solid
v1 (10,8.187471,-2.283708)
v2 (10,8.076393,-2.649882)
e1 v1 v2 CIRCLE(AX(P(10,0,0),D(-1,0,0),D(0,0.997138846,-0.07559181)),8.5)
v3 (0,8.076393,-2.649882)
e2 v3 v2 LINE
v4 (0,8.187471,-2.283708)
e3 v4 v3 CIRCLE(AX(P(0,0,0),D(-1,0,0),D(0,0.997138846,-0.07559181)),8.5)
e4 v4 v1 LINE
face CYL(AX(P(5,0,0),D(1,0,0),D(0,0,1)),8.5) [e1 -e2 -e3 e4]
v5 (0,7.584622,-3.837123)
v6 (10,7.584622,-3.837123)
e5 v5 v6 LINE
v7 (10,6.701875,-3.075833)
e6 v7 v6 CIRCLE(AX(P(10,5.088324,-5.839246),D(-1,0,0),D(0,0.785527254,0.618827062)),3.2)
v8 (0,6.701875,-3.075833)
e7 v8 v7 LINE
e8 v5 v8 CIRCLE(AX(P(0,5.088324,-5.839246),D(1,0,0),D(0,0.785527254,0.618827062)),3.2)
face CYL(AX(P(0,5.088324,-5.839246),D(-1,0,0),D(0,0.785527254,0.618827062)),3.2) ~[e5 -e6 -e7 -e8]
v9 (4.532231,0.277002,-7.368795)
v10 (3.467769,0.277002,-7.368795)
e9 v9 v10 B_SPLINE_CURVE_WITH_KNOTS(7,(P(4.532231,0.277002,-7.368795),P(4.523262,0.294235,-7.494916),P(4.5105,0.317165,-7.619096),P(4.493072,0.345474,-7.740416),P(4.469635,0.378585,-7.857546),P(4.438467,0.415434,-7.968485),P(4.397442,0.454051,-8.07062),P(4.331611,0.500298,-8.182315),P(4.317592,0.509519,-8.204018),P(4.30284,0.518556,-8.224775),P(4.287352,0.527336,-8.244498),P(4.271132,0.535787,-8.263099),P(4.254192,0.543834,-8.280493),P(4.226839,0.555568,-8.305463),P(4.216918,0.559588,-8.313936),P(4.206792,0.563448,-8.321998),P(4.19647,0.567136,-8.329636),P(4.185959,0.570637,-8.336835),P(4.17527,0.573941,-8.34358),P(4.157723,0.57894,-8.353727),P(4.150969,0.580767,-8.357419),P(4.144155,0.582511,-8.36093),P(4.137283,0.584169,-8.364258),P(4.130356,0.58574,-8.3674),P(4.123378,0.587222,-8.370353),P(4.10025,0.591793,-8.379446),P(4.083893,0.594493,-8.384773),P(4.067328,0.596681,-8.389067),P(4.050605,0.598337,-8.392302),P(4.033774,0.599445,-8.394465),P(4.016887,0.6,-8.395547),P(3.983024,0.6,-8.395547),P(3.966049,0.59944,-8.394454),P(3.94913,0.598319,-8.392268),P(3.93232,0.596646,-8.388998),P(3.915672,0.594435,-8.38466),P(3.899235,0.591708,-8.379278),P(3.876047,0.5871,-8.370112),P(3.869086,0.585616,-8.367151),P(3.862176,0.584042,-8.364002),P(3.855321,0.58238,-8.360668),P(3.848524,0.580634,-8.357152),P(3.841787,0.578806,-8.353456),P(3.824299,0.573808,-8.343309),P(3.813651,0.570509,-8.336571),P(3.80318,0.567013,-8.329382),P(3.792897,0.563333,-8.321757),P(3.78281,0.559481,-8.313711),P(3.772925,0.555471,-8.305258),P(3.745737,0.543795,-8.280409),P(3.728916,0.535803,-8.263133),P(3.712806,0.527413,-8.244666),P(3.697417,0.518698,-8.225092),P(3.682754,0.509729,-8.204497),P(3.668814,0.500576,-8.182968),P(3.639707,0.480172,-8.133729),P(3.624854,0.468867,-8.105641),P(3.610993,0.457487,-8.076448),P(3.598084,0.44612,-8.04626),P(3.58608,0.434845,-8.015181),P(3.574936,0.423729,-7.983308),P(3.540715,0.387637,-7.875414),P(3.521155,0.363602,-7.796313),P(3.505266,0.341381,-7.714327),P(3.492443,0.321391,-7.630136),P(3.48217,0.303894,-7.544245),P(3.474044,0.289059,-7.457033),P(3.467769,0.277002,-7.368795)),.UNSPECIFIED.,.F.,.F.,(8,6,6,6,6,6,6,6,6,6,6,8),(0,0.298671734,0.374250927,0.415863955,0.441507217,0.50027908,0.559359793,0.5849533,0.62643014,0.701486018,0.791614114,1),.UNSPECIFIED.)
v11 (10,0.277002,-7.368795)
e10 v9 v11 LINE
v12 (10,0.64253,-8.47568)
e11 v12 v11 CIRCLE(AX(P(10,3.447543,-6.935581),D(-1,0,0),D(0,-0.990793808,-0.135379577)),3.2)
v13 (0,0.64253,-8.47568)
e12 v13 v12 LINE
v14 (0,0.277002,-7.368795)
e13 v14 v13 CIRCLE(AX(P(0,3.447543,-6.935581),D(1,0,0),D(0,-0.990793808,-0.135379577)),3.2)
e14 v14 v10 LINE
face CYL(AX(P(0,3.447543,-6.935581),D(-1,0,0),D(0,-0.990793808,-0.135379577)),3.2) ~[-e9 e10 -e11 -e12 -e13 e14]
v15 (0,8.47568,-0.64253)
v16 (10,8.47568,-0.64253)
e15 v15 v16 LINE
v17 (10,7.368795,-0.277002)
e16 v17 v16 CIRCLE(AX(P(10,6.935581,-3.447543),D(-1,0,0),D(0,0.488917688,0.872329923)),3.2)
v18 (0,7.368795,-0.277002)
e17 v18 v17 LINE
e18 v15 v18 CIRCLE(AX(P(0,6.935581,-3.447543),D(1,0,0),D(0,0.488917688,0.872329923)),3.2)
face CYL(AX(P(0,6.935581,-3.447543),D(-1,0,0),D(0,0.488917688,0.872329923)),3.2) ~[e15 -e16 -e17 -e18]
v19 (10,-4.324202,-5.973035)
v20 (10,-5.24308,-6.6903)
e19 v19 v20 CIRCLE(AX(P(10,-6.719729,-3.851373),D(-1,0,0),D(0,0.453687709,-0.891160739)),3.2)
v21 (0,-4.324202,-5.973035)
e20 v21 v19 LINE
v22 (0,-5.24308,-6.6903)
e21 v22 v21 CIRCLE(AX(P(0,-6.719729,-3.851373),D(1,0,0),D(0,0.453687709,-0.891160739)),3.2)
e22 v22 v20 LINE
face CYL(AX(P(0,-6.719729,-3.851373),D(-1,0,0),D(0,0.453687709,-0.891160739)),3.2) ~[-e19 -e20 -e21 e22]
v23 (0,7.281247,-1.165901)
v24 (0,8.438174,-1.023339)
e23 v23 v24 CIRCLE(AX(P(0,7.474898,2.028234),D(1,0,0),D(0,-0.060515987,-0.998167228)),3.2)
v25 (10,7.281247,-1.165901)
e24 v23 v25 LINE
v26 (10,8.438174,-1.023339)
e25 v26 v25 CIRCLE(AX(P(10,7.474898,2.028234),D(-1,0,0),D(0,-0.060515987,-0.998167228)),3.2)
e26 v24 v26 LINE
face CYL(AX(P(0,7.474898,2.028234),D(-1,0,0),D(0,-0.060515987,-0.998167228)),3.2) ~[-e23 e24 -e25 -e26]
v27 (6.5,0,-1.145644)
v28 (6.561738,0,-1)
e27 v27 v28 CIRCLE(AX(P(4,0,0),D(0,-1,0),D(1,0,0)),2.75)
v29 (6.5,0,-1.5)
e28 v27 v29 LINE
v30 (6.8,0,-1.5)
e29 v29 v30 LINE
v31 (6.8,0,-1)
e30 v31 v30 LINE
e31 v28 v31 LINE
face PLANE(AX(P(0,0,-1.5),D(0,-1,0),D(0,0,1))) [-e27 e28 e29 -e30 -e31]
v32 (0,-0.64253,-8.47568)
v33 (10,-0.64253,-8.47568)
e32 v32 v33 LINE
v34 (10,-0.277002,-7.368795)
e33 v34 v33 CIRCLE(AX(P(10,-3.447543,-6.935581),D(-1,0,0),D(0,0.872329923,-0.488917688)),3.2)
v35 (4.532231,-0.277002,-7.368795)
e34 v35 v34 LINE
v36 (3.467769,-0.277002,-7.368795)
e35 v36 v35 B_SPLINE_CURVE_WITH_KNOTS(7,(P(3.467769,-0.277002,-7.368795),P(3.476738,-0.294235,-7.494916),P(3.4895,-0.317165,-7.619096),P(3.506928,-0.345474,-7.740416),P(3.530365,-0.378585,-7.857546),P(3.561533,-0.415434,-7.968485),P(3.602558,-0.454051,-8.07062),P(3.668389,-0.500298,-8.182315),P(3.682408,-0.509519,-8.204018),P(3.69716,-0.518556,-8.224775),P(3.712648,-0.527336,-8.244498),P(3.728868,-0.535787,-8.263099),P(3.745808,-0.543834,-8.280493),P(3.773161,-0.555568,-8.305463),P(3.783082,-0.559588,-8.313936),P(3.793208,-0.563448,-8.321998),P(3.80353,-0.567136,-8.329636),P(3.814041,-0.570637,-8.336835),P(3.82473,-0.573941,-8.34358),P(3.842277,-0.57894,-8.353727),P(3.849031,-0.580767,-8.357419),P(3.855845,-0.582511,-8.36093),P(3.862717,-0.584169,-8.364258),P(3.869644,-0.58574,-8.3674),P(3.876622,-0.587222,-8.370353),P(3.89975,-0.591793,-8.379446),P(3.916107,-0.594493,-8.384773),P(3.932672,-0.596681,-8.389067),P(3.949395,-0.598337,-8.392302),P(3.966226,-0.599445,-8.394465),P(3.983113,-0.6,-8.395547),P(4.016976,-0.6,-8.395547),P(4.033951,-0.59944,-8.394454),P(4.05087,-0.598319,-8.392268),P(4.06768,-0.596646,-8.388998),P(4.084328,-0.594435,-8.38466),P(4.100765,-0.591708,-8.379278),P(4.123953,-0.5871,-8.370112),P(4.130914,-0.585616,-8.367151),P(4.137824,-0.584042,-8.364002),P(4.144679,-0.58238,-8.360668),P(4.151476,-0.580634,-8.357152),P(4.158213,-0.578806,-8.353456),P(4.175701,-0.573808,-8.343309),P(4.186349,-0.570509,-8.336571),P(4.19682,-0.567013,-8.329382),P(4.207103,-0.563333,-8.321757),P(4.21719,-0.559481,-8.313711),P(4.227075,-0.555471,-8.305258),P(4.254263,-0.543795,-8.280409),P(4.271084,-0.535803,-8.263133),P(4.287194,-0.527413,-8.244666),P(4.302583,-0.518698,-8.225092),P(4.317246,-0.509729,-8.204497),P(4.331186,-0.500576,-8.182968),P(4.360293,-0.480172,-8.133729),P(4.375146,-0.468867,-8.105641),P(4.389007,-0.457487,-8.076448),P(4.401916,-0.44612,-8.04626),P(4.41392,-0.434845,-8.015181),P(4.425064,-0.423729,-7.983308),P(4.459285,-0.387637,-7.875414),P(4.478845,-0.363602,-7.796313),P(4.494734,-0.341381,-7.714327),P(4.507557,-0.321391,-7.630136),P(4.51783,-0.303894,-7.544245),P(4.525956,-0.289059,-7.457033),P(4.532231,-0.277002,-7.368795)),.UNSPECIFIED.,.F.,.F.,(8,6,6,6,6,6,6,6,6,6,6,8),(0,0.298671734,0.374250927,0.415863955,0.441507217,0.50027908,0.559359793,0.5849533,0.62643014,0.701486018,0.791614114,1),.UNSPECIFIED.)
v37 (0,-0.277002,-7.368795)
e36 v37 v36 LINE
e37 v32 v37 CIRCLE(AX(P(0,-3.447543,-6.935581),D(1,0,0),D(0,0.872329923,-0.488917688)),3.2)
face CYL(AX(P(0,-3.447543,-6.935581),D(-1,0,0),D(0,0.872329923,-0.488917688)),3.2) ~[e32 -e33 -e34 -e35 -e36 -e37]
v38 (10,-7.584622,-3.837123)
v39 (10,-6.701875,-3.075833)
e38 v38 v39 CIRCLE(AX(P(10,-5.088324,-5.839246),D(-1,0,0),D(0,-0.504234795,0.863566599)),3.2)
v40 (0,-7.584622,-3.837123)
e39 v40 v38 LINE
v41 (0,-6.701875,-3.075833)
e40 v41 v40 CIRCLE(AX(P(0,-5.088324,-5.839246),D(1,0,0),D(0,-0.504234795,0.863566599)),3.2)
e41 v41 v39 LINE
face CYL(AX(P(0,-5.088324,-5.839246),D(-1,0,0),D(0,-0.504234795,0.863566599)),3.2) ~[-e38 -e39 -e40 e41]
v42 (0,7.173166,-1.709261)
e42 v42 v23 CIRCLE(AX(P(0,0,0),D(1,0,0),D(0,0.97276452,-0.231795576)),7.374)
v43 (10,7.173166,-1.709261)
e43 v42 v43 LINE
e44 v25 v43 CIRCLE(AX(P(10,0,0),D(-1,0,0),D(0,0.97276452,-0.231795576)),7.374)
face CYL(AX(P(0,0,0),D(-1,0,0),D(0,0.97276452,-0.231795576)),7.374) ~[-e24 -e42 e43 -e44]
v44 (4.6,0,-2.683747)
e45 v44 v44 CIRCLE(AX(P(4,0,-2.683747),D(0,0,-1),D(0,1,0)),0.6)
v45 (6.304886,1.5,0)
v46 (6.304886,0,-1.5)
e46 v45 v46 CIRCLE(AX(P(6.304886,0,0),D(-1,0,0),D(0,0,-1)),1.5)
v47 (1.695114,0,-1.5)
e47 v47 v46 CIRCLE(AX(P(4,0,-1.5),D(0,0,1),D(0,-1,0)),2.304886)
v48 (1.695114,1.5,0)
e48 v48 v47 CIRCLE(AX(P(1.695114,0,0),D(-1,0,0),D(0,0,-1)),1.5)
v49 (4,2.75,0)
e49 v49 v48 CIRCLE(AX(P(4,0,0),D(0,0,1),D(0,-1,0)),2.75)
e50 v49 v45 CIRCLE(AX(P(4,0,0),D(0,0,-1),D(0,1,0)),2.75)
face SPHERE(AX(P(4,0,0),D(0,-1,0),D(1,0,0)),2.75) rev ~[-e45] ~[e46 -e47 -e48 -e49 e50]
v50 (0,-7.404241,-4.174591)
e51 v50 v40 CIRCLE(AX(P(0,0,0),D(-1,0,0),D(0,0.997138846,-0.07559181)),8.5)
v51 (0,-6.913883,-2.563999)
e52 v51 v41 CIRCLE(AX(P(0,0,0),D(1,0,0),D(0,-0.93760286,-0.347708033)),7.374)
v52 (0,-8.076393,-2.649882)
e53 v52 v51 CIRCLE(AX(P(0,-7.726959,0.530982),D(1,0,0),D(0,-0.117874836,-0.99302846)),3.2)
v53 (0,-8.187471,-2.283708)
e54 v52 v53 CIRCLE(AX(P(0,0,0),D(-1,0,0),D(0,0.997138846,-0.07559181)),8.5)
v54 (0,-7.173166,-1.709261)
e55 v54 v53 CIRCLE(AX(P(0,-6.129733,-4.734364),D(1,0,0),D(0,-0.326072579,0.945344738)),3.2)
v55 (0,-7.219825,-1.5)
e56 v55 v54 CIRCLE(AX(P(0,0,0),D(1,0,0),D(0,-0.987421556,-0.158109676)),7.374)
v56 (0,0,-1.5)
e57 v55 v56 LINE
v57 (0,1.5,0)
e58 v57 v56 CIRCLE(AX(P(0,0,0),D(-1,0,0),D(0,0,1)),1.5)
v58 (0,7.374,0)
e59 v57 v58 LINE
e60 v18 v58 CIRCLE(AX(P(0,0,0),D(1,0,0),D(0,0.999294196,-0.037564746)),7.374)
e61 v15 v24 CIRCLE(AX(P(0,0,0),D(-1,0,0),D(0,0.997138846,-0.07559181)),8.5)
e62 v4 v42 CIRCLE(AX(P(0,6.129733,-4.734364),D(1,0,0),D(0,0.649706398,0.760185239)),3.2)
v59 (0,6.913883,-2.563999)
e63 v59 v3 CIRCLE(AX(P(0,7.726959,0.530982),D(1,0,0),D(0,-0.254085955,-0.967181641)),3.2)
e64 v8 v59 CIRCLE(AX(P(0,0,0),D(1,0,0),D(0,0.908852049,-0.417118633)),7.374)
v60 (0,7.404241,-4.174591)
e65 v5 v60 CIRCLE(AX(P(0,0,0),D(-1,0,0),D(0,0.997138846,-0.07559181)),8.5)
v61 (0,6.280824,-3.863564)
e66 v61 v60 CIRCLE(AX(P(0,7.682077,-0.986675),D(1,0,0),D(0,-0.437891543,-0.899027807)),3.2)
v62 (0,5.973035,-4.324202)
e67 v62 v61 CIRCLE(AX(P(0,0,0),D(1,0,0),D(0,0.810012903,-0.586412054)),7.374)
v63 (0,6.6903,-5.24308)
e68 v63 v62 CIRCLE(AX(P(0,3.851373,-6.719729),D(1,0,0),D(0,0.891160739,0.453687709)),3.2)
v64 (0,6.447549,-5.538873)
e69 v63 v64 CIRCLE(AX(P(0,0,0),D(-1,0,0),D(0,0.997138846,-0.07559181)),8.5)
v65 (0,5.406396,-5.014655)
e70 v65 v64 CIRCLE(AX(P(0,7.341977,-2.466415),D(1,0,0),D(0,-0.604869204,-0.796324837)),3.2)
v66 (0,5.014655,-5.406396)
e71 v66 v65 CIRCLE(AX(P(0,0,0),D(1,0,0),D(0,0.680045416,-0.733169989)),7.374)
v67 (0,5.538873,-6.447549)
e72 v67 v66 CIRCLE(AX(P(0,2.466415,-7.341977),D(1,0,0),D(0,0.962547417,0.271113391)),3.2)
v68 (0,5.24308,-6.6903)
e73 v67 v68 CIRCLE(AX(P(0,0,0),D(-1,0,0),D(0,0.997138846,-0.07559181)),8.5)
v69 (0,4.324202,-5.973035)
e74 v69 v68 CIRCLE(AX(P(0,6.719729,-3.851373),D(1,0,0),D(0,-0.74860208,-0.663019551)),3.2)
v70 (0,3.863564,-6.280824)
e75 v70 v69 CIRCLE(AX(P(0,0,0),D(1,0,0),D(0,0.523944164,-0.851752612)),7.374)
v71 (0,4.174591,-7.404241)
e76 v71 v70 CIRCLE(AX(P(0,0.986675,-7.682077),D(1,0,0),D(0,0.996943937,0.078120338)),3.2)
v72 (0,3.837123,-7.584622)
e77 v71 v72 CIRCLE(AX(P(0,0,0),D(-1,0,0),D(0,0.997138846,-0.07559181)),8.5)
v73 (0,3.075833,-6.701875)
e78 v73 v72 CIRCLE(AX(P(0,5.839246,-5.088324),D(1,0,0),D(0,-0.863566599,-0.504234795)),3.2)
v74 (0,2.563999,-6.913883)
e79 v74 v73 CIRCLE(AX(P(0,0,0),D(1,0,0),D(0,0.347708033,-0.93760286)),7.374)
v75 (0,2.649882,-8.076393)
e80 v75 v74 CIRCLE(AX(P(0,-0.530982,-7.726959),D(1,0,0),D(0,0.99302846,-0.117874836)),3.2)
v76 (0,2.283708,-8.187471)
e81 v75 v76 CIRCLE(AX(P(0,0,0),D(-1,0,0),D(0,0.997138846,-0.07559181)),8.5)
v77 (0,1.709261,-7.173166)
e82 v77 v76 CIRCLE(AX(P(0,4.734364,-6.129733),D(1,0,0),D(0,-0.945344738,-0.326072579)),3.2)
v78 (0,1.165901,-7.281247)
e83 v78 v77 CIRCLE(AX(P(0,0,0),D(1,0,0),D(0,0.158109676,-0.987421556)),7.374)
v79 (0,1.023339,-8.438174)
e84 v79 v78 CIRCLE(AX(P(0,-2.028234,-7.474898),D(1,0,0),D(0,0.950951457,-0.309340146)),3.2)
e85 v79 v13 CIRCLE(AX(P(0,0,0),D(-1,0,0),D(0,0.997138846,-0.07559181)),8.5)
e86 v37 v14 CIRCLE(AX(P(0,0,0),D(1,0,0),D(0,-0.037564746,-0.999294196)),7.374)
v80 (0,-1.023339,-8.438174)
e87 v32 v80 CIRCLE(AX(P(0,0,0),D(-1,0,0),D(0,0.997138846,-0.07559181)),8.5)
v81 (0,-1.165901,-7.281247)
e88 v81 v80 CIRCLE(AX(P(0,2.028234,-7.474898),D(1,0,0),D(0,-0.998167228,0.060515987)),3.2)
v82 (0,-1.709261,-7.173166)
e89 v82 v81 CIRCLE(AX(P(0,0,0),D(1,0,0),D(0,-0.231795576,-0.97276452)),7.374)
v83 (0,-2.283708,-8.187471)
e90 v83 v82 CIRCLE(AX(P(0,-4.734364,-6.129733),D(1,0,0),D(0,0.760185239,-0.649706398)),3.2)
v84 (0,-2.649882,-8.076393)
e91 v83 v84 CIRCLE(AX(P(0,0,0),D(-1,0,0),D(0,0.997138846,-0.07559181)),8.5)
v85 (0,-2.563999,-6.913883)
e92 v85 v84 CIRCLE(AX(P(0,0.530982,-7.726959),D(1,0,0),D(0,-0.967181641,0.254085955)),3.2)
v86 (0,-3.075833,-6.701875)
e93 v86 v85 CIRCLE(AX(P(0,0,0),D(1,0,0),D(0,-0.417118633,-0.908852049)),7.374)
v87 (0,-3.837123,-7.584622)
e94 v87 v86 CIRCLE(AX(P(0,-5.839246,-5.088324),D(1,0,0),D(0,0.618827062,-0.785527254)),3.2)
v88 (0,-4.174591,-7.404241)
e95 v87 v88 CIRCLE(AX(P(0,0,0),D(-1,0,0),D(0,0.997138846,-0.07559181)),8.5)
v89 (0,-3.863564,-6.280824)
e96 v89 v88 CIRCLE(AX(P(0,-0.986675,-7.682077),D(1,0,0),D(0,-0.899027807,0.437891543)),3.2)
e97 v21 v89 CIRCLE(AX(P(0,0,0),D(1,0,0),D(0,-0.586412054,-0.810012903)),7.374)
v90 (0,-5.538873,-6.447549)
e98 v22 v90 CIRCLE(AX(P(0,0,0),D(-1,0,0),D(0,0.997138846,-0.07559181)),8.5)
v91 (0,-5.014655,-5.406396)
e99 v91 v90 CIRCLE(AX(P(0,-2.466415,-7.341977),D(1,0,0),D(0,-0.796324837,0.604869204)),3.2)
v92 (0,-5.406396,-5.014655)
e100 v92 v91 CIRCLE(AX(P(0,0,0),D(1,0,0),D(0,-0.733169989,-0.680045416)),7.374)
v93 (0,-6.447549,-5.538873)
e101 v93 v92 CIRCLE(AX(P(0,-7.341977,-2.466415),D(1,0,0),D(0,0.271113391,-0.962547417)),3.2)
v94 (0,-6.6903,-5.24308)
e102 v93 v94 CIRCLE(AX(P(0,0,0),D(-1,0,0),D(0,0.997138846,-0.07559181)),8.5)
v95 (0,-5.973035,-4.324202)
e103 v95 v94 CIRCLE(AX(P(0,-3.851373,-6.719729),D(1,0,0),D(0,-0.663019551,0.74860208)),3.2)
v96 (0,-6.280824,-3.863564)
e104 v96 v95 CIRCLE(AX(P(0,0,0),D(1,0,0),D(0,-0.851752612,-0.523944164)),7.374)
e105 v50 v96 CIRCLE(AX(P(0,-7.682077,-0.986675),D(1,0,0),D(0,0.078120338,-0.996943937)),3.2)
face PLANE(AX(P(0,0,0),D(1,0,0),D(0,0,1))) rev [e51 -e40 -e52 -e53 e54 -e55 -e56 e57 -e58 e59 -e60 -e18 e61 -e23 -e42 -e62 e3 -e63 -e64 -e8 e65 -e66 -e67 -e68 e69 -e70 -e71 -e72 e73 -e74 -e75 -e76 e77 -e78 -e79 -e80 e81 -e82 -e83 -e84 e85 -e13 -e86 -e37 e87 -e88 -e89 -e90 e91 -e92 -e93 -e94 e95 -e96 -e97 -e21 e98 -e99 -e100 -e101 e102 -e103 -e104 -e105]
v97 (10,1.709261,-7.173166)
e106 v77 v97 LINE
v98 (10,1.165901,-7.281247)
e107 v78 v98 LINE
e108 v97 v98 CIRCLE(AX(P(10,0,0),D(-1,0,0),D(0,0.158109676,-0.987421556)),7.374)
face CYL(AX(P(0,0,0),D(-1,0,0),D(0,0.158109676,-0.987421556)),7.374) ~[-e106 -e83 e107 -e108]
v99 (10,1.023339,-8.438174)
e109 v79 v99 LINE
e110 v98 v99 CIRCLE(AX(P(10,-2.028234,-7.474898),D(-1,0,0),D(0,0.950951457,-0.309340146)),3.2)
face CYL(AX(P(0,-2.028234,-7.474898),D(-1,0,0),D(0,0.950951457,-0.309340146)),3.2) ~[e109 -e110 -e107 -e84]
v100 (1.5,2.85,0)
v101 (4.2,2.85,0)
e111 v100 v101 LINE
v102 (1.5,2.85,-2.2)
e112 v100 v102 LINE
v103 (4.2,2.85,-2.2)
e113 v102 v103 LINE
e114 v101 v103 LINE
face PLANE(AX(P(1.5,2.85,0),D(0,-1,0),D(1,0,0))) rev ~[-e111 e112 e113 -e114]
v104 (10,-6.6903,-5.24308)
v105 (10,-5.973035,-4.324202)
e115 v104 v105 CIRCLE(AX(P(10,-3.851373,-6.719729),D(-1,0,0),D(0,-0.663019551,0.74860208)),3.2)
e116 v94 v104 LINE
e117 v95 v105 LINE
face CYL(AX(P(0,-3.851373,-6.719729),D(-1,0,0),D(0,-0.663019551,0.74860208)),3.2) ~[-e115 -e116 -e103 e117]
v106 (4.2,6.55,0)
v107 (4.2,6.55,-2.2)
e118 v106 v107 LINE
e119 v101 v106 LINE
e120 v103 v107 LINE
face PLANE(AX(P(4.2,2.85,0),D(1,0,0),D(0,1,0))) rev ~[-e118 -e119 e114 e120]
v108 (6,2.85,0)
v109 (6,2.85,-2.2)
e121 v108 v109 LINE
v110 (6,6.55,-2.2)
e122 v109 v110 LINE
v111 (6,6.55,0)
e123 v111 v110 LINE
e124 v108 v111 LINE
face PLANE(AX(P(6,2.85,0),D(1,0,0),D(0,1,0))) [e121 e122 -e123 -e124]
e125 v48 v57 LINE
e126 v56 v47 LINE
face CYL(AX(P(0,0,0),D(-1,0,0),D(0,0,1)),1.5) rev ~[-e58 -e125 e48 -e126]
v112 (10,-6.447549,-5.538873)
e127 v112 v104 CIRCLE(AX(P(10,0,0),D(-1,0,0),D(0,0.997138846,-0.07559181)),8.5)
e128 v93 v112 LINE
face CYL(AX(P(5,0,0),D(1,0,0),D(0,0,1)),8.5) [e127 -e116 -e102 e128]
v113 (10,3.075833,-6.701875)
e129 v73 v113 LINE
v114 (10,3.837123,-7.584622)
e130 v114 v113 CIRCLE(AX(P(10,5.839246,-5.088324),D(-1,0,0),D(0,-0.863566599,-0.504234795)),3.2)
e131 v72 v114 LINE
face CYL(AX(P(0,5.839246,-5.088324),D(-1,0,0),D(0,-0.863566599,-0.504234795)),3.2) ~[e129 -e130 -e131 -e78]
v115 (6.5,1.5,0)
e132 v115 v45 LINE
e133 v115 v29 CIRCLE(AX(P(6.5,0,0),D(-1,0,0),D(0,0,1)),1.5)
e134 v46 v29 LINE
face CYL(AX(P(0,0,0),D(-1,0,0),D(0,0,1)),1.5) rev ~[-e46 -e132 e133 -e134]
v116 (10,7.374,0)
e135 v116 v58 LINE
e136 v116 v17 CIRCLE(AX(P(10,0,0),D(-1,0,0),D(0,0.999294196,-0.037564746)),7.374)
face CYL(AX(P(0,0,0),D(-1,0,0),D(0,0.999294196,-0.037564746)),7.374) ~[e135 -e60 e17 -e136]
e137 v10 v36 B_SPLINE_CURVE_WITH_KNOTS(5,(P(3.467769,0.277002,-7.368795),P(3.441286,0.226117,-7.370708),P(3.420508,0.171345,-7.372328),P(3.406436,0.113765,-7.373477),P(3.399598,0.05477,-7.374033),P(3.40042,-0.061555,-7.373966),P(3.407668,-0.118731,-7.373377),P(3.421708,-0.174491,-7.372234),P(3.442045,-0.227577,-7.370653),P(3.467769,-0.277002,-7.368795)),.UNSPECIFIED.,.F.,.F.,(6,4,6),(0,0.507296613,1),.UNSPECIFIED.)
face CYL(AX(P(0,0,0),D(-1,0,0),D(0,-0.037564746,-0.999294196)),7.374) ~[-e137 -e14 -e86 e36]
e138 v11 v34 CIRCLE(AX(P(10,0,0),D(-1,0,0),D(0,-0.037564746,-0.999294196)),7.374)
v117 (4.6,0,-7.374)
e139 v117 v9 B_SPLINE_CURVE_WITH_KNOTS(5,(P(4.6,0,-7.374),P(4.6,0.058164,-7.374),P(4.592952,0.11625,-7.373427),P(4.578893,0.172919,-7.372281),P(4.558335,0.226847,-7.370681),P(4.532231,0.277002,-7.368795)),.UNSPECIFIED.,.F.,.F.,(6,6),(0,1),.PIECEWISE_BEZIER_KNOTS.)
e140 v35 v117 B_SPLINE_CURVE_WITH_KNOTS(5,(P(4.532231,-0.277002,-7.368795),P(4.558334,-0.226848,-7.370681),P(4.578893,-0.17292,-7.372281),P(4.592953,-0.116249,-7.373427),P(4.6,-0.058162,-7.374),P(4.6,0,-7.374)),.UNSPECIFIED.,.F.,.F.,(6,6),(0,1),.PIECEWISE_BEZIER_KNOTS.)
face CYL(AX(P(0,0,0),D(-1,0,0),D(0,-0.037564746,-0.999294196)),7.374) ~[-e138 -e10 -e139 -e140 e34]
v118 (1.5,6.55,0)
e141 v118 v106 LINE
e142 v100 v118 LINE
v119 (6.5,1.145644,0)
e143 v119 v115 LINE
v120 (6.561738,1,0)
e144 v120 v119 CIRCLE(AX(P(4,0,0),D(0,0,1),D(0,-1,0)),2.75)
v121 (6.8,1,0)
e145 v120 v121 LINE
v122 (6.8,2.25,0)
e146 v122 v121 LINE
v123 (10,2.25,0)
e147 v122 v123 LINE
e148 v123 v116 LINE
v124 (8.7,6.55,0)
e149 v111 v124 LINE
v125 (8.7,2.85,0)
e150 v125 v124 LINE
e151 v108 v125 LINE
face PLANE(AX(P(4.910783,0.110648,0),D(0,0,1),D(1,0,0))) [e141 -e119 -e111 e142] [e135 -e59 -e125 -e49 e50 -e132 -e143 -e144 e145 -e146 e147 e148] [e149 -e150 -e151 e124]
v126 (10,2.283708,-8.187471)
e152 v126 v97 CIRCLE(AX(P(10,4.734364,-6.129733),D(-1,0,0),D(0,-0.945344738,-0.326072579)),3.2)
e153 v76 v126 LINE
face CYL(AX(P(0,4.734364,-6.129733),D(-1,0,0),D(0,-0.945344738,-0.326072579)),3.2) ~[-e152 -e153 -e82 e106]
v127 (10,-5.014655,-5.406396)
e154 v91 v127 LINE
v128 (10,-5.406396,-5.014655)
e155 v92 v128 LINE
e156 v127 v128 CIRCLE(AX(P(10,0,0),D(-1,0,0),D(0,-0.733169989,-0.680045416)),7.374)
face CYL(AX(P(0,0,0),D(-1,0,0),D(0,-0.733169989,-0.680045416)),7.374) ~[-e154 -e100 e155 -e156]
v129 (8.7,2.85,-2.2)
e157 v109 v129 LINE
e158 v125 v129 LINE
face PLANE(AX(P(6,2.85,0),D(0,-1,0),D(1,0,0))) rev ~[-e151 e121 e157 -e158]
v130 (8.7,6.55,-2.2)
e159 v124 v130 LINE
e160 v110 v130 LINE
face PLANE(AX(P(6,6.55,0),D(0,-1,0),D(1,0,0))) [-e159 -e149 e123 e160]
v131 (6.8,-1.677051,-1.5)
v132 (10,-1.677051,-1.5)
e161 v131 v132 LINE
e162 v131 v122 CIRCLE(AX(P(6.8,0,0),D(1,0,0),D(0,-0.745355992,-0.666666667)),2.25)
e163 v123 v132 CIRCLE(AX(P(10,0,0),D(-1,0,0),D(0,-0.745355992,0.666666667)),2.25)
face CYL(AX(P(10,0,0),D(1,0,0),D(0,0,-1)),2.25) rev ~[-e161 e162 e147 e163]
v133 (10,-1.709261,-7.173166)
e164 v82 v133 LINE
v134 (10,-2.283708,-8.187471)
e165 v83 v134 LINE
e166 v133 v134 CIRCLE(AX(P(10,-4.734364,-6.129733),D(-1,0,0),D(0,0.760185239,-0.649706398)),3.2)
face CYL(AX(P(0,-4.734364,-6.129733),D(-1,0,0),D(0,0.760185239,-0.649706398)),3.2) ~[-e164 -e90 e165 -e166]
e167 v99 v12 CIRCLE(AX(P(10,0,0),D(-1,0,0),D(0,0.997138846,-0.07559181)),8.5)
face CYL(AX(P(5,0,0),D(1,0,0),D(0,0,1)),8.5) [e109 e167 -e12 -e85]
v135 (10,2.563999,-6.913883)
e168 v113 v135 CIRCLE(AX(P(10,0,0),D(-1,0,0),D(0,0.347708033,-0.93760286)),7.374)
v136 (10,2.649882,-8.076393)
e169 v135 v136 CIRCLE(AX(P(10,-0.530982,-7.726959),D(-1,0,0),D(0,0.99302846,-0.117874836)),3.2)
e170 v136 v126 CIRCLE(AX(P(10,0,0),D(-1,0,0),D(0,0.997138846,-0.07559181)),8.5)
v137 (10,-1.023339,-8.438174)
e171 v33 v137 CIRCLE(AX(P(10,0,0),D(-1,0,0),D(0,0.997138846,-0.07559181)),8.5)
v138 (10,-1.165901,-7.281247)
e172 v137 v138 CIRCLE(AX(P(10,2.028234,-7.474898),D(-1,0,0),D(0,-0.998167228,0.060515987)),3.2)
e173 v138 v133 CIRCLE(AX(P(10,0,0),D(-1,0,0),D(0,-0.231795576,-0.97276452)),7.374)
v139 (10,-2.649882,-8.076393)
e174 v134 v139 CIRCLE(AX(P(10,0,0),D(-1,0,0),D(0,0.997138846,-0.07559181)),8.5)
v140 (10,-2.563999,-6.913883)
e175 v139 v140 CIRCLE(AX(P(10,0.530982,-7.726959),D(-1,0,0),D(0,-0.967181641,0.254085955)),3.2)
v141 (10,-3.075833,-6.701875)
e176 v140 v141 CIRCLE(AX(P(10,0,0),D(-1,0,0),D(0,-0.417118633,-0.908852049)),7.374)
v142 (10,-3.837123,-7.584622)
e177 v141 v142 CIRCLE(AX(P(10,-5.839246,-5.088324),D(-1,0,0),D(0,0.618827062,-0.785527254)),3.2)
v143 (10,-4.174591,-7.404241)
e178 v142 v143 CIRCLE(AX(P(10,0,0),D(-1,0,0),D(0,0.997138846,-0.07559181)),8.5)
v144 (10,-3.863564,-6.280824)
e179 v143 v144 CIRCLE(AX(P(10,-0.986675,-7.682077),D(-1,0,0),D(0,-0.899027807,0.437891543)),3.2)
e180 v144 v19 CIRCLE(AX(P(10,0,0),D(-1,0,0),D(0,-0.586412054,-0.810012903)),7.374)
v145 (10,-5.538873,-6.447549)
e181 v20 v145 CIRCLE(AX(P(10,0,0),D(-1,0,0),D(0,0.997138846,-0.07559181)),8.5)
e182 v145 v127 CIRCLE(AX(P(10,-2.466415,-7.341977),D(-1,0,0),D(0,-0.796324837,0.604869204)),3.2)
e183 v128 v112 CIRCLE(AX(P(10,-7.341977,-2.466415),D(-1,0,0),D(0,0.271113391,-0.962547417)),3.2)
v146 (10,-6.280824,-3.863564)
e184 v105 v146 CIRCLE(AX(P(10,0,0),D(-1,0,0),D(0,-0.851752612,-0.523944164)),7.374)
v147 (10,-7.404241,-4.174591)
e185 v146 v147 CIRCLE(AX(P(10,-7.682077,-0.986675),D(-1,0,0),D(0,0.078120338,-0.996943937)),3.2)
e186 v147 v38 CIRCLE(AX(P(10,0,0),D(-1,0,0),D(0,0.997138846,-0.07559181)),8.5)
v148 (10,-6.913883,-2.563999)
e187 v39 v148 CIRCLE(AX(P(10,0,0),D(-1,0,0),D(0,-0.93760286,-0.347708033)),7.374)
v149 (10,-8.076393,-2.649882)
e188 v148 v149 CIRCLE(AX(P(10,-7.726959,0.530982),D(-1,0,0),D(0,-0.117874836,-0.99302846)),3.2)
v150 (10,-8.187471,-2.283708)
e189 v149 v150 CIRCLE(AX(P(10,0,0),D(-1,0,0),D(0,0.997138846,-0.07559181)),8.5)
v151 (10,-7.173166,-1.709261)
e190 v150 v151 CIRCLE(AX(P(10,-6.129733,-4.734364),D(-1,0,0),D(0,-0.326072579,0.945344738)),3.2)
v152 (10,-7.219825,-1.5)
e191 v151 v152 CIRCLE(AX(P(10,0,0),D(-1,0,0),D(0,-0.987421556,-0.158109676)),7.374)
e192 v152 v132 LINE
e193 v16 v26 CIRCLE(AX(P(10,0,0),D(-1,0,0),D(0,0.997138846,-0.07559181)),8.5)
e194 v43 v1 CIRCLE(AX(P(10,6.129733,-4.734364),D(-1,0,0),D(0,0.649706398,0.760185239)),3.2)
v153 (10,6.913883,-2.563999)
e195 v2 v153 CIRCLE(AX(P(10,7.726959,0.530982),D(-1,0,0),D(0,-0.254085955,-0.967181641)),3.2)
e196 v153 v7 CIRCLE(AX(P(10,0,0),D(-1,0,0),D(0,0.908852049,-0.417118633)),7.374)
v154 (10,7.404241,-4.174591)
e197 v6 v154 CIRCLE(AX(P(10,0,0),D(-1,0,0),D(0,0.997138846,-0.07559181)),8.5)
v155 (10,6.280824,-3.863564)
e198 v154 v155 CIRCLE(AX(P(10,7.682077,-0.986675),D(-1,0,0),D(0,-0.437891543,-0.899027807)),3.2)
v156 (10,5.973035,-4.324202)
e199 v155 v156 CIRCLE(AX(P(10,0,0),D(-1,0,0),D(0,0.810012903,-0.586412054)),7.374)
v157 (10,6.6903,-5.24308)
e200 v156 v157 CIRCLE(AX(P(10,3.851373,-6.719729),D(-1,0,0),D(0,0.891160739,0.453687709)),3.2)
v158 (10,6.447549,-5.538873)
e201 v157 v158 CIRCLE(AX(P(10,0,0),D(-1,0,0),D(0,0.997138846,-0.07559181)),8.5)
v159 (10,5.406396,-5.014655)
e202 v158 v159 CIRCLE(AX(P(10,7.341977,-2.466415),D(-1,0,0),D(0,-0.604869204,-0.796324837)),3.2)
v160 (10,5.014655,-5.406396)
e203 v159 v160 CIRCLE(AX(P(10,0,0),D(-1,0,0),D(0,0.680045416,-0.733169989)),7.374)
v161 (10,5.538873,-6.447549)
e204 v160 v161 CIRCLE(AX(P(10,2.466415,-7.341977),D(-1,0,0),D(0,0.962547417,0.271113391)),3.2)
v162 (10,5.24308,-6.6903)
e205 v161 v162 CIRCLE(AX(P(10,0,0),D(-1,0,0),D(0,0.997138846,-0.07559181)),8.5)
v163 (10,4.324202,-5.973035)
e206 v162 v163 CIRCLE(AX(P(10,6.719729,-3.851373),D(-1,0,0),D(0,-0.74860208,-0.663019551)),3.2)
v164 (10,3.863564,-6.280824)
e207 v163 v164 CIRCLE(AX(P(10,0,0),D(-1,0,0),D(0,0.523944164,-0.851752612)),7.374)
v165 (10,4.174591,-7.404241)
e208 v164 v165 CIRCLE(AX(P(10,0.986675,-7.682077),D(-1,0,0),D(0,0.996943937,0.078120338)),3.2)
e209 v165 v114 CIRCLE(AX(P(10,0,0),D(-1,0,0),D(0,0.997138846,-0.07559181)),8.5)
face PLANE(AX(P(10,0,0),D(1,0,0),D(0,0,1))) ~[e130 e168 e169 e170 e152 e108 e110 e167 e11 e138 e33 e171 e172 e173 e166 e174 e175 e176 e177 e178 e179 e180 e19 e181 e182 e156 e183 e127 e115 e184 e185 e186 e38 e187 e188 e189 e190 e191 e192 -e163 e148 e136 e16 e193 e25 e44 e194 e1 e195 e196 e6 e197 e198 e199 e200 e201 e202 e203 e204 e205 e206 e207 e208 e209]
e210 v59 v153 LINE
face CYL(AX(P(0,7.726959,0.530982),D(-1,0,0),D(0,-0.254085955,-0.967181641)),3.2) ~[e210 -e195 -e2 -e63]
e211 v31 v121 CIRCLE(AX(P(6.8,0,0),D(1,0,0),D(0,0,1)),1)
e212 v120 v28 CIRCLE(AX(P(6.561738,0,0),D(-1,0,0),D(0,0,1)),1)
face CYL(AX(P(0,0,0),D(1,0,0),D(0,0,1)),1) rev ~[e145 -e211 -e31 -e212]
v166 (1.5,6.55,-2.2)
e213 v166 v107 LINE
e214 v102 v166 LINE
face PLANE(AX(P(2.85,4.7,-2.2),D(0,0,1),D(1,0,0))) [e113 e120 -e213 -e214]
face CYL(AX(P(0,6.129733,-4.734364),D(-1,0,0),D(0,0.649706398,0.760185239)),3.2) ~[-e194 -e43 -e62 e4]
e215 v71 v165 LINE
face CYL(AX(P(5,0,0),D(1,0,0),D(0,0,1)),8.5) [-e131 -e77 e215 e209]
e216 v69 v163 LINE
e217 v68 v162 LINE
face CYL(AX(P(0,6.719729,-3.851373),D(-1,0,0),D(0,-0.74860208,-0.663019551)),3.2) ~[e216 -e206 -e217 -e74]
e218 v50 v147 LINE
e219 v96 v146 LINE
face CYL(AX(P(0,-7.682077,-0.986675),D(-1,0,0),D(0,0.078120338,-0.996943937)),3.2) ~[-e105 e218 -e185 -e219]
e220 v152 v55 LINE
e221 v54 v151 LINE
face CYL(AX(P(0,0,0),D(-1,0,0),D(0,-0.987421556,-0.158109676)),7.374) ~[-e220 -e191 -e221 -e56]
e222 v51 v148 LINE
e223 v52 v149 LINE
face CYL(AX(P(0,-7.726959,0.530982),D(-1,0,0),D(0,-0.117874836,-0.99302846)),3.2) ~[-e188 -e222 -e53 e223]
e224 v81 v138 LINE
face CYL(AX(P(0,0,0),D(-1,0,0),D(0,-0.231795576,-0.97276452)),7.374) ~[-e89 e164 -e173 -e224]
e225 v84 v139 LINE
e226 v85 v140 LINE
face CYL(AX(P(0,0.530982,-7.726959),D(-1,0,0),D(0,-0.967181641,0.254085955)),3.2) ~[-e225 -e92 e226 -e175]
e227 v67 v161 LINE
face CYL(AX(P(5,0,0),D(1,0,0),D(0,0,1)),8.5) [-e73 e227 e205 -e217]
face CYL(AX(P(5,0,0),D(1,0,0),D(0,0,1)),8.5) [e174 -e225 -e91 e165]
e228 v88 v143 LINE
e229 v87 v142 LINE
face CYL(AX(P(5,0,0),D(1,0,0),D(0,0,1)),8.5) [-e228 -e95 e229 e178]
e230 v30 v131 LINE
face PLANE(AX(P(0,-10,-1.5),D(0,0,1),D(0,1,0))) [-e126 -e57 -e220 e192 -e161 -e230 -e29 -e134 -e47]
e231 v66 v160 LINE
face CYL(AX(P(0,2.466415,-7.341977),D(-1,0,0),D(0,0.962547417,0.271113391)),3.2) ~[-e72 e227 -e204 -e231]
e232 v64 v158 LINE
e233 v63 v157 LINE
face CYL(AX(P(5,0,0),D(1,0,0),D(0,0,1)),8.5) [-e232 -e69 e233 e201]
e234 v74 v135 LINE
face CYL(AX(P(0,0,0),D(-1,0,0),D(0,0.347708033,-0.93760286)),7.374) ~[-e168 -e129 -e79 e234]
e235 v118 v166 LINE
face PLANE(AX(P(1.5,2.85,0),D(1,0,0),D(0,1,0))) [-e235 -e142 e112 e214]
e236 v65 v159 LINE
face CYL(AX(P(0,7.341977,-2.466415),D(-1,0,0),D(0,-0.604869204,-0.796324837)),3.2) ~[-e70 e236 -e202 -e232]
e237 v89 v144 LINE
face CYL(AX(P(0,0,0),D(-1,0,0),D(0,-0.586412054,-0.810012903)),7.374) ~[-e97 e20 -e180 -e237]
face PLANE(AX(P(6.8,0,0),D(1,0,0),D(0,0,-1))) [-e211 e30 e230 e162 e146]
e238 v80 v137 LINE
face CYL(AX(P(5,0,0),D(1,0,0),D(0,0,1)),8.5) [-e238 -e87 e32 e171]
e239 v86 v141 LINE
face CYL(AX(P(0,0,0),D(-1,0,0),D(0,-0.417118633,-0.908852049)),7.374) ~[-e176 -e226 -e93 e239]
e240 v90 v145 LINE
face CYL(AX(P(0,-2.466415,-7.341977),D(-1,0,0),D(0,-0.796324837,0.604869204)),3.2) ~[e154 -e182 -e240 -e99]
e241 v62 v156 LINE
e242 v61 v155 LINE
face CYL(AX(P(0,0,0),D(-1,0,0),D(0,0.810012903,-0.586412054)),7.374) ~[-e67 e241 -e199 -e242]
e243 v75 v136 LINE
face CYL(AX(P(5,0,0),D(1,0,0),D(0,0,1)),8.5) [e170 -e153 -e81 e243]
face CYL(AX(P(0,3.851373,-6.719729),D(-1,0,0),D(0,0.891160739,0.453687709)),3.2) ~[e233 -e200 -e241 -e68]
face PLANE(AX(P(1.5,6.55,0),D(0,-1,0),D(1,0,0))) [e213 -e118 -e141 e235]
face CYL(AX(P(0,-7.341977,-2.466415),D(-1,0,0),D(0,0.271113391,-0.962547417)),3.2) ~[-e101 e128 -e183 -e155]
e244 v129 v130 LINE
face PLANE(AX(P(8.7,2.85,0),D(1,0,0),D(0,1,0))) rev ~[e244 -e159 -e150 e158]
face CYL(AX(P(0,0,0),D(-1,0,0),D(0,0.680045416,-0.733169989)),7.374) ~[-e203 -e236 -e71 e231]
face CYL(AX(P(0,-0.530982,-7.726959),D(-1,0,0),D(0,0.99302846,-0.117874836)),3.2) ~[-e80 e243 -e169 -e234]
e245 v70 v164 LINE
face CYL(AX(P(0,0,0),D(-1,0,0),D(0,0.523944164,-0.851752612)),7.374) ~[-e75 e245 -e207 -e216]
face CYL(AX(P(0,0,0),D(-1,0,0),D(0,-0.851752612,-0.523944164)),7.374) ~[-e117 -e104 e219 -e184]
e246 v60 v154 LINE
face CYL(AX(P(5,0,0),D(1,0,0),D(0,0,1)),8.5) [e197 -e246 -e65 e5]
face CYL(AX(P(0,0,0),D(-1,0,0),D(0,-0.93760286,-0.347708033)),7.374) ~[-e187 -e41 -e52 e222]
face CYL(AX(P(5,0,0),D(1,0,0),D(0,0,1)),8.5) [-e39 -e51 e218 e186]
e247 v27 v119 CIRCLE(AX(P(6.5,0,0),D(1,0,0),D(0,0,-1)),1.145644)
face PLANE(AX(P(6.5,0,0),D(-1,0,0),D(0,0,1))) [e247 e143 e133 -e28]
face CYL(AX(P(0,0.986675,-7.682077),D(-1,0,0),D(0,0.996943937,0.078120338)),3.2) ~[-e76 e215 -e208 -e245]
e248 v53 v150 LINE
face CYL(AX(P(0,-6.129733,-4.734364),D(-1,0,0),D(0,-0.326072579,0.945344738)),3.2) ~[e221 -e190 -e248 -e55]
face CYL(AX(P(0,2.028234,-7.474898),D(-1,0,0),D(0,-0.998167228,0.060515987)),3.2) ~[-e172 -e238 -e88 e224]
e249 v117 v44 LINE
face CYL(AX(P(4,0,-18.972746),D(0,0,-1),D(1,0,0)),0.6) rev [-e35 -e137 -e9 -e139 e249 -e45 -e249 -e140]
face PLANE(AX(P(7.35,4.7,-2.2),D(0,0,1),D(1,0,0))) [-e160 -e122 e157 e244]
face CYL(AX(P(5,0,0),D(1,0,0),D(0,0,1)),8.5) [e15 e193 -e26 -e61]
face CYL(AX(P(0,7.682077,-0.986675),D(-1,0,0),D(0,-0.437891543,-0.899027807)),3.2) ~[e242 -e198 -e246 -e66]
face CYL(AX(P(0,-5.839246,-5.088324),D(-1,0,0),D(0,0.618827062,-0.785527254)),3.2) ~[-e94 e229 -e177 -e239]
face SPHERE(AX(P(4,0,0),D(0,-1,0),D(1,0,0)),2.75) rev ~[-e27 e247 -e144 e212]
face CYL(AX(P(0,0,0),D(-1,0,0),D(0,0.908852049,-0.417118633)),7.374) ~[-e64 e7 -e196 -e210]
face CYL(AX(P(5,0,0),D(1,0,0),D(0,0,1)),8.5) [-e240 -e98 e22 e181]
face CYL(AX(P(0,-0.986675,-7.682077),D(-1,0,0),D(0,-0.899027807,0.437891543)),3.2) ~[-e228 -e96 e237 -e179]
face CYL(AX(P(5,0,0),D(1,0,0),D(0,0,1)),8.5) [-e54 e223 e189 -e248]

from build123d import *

# Parameters (mm, degrees)
BASPROSKE_W             = 10
BASPROSKE_H             = 8.5
TOOTHCUT_DEPTH          = 16.636495771
TEETHCUTS_COUNT         = 32
BORSKE_R                = 1
BORE_DEPTH              = 50.0000508
SKETCH1_R               = 2.25
CUT_EXTRUDE1_DEPTH      = 3.2
SKETCH2_W               = 3
SKETCH2_H               = 10
CUT_EXTRUDE2_DEPTH      = 16.610070769
CUT_EXTRUDE3_DEPTH      = 17.472745672
CUT_EXTRUDE3_DEPTH_BACK = 17.472745672
SKETCH3_R               = 0.6
SKETCH4_R               = 1.5
CUT_EXTRUDE4_DEPTH      = 6.5
SKETCH7_W               = 10.973728646
SKETCH7_H               = 17.598113622
CUT_EXTRUDE5_DEPTH      = 10
SKETCH8_W               = 2.7
SKETCH8_H               = 3.7
CUT_EXTRUDE6_DEPTH      = 2.2


with BuildPart() as part:
    # BasProSke → Base-Revolve (revolve)
    with BuildSketch(Plane(origin=(0, 0, 0), x_dir=(1, 0, 0), z_dir=(0, 1, 0)), mode=Mode.PRIVATE) as base_revolve_sk:
        with Locations((5, 4.25)):
            Rectangle(BASPROSKE_W, BASPROSKE_H)
    revolve(base_revolve_sk.sketch.rotate(Axis((-10, 0, 0), (1, 0, 0)), 180), axis=Axis((-10, 0, 0), (1, 0, 0)))

    # TooCutSke → ToothCut (cut, through all)
    with BuildSketch(Plane(origin=(0, 0, 0), x_dir=(0, 0, -1), z_dir=(1, 0, 0))):
        with BuildLine():
            ThreePointArc((0.277002447, 7.3687954), (0, 7.374), (-0.277002447, 7.3687954))
            ThreePointArc((-0.277002447, 7.3687954), (-0.41335061, 7.952280695), (-0.656086882, 8.500117362))
            ThreePointArc((-0.656086882, 8.500117362), (0, 8.5254), (0.656086882, 8.500117362))
            ThreePointArc((0.656086882, 8.500117362), (0.41335061, 7.952280695), (0.277002447, 7.3687954))
        make_face()
    toothcut = extrude(amount=TOOTHCUT_DEPTH, mode=Mode.SUBTRACT)

    # TeethCuts: ToothCut ×32 about axis
    teethcuts_axis = Axis((0, 0, 0), (1, 0, 0))
    for i in range(1, TEETHCUTS_COUNT):
        add(toothcut.rotate(teethcuts_axis, i * 360 / TEETHCUTS_COUNT), mode=Mode.SUBTRACT)

    # BorSke → Bore (cut, symmetric)
    with BuildSketch(Plane(origin=(0, 0, 0), x_dir=(0, 0, -1), z_dir=(1, 0, 0))):
        with Locations(Location((0, 0, 0), (0, 0, 180))):
            Circle(BORSKE_R)
    extrude(amount=BORE_DEPTH, both=True, mode=Mode.SUBTRACT)

    # Sketch1 → Cut-Extrude1 (cut)
    with BuildSketch(Plane(origin=(10, 0, 0), x_dir=(0, 0, -1), z_dir=(1, 0, 0))):
        Circle(SKETCH1_R)
    extrude(amount=-CUT_EXTRUDE1_DEPTH, mode=Mode.SUBTRACT)

    # Sketch2 → Cut-Extrude2 (cut, through all)
    with BuildSketch(Plane.ZY):
        with Locations((0, -5)):
            Rectangle(SKETCH2_W, SKETCH2_H)
    extrude(amount=-CUT_EXTRUDE2_DEPTH, mode=Mode.SUBTRACT)

    # Sketch3 → Cut-Extrude3 (cut, two sides: drawn at the far end of the back side and taken through both)
    with BuildSketch(Plane.XY.offset(-1.5).offset(-CUT_EXTRUDE3_DEPTH_BACK)):
        with Locations((4, 0)):
            Circle(SKETCH3_R)
    extrude(amount=CUT_EXTRUDE3_DEPTH + CUT_EXTRUDE3_DEPTH_BACK, mode=Mode.SUBTRACT)

    # Sketch4 → Cut-Extrude4 (cut)
    with BuildSketch(Plane.ZY):
        Circle(SKETCH4_R)
    extrude(amount=-CUT_EXTRUDE4_DEPTH, mode=Mode.SUBTRACT)

    # Sketch6 → Cut-Revolve1 (revolve, cut)
    with BuildSketch(Plane.XY):
        with BuildLine():
            ThreePointArc((4, 2.75), (6.75, 0), (4, -2.75))
            Line((4, -2.75), (4, 0))
            Line((4, 0), (4, 2.75))
        make_face()
    revolve(axis=Axis((4, 0, 0), (0, -1, 0)), mode=Mode.SUBTRACT)

    # Sketch7 → Cut-Extrude5 (cut)
    with BuildSketch(Plane.XY):
        with Locations((4.910782694, 0.110648149)):
            Rectangle(SKETCH7_W, SKETCH7_H)
    extrude(amount=CUT_EXTRUDE5_DEPTH, mode=Mode.SUBTRACT)

    # Sketch8 → Cut-Extrude6 (cut)
    with BuildSketch(Plane.XY):
        with Locations((7.35, 4.7)):
            Rectangle(SKETCH8_W, SKETCH8_H)
        with Locations((2.85, 4.7)):
            Rectangle(SKETCH8_W, SKETCH8_H)
    extrude(amount=-CUT_EXTRUDE6_DEPTH, mode=Mode.SUBTRACT)


solid = part.part
